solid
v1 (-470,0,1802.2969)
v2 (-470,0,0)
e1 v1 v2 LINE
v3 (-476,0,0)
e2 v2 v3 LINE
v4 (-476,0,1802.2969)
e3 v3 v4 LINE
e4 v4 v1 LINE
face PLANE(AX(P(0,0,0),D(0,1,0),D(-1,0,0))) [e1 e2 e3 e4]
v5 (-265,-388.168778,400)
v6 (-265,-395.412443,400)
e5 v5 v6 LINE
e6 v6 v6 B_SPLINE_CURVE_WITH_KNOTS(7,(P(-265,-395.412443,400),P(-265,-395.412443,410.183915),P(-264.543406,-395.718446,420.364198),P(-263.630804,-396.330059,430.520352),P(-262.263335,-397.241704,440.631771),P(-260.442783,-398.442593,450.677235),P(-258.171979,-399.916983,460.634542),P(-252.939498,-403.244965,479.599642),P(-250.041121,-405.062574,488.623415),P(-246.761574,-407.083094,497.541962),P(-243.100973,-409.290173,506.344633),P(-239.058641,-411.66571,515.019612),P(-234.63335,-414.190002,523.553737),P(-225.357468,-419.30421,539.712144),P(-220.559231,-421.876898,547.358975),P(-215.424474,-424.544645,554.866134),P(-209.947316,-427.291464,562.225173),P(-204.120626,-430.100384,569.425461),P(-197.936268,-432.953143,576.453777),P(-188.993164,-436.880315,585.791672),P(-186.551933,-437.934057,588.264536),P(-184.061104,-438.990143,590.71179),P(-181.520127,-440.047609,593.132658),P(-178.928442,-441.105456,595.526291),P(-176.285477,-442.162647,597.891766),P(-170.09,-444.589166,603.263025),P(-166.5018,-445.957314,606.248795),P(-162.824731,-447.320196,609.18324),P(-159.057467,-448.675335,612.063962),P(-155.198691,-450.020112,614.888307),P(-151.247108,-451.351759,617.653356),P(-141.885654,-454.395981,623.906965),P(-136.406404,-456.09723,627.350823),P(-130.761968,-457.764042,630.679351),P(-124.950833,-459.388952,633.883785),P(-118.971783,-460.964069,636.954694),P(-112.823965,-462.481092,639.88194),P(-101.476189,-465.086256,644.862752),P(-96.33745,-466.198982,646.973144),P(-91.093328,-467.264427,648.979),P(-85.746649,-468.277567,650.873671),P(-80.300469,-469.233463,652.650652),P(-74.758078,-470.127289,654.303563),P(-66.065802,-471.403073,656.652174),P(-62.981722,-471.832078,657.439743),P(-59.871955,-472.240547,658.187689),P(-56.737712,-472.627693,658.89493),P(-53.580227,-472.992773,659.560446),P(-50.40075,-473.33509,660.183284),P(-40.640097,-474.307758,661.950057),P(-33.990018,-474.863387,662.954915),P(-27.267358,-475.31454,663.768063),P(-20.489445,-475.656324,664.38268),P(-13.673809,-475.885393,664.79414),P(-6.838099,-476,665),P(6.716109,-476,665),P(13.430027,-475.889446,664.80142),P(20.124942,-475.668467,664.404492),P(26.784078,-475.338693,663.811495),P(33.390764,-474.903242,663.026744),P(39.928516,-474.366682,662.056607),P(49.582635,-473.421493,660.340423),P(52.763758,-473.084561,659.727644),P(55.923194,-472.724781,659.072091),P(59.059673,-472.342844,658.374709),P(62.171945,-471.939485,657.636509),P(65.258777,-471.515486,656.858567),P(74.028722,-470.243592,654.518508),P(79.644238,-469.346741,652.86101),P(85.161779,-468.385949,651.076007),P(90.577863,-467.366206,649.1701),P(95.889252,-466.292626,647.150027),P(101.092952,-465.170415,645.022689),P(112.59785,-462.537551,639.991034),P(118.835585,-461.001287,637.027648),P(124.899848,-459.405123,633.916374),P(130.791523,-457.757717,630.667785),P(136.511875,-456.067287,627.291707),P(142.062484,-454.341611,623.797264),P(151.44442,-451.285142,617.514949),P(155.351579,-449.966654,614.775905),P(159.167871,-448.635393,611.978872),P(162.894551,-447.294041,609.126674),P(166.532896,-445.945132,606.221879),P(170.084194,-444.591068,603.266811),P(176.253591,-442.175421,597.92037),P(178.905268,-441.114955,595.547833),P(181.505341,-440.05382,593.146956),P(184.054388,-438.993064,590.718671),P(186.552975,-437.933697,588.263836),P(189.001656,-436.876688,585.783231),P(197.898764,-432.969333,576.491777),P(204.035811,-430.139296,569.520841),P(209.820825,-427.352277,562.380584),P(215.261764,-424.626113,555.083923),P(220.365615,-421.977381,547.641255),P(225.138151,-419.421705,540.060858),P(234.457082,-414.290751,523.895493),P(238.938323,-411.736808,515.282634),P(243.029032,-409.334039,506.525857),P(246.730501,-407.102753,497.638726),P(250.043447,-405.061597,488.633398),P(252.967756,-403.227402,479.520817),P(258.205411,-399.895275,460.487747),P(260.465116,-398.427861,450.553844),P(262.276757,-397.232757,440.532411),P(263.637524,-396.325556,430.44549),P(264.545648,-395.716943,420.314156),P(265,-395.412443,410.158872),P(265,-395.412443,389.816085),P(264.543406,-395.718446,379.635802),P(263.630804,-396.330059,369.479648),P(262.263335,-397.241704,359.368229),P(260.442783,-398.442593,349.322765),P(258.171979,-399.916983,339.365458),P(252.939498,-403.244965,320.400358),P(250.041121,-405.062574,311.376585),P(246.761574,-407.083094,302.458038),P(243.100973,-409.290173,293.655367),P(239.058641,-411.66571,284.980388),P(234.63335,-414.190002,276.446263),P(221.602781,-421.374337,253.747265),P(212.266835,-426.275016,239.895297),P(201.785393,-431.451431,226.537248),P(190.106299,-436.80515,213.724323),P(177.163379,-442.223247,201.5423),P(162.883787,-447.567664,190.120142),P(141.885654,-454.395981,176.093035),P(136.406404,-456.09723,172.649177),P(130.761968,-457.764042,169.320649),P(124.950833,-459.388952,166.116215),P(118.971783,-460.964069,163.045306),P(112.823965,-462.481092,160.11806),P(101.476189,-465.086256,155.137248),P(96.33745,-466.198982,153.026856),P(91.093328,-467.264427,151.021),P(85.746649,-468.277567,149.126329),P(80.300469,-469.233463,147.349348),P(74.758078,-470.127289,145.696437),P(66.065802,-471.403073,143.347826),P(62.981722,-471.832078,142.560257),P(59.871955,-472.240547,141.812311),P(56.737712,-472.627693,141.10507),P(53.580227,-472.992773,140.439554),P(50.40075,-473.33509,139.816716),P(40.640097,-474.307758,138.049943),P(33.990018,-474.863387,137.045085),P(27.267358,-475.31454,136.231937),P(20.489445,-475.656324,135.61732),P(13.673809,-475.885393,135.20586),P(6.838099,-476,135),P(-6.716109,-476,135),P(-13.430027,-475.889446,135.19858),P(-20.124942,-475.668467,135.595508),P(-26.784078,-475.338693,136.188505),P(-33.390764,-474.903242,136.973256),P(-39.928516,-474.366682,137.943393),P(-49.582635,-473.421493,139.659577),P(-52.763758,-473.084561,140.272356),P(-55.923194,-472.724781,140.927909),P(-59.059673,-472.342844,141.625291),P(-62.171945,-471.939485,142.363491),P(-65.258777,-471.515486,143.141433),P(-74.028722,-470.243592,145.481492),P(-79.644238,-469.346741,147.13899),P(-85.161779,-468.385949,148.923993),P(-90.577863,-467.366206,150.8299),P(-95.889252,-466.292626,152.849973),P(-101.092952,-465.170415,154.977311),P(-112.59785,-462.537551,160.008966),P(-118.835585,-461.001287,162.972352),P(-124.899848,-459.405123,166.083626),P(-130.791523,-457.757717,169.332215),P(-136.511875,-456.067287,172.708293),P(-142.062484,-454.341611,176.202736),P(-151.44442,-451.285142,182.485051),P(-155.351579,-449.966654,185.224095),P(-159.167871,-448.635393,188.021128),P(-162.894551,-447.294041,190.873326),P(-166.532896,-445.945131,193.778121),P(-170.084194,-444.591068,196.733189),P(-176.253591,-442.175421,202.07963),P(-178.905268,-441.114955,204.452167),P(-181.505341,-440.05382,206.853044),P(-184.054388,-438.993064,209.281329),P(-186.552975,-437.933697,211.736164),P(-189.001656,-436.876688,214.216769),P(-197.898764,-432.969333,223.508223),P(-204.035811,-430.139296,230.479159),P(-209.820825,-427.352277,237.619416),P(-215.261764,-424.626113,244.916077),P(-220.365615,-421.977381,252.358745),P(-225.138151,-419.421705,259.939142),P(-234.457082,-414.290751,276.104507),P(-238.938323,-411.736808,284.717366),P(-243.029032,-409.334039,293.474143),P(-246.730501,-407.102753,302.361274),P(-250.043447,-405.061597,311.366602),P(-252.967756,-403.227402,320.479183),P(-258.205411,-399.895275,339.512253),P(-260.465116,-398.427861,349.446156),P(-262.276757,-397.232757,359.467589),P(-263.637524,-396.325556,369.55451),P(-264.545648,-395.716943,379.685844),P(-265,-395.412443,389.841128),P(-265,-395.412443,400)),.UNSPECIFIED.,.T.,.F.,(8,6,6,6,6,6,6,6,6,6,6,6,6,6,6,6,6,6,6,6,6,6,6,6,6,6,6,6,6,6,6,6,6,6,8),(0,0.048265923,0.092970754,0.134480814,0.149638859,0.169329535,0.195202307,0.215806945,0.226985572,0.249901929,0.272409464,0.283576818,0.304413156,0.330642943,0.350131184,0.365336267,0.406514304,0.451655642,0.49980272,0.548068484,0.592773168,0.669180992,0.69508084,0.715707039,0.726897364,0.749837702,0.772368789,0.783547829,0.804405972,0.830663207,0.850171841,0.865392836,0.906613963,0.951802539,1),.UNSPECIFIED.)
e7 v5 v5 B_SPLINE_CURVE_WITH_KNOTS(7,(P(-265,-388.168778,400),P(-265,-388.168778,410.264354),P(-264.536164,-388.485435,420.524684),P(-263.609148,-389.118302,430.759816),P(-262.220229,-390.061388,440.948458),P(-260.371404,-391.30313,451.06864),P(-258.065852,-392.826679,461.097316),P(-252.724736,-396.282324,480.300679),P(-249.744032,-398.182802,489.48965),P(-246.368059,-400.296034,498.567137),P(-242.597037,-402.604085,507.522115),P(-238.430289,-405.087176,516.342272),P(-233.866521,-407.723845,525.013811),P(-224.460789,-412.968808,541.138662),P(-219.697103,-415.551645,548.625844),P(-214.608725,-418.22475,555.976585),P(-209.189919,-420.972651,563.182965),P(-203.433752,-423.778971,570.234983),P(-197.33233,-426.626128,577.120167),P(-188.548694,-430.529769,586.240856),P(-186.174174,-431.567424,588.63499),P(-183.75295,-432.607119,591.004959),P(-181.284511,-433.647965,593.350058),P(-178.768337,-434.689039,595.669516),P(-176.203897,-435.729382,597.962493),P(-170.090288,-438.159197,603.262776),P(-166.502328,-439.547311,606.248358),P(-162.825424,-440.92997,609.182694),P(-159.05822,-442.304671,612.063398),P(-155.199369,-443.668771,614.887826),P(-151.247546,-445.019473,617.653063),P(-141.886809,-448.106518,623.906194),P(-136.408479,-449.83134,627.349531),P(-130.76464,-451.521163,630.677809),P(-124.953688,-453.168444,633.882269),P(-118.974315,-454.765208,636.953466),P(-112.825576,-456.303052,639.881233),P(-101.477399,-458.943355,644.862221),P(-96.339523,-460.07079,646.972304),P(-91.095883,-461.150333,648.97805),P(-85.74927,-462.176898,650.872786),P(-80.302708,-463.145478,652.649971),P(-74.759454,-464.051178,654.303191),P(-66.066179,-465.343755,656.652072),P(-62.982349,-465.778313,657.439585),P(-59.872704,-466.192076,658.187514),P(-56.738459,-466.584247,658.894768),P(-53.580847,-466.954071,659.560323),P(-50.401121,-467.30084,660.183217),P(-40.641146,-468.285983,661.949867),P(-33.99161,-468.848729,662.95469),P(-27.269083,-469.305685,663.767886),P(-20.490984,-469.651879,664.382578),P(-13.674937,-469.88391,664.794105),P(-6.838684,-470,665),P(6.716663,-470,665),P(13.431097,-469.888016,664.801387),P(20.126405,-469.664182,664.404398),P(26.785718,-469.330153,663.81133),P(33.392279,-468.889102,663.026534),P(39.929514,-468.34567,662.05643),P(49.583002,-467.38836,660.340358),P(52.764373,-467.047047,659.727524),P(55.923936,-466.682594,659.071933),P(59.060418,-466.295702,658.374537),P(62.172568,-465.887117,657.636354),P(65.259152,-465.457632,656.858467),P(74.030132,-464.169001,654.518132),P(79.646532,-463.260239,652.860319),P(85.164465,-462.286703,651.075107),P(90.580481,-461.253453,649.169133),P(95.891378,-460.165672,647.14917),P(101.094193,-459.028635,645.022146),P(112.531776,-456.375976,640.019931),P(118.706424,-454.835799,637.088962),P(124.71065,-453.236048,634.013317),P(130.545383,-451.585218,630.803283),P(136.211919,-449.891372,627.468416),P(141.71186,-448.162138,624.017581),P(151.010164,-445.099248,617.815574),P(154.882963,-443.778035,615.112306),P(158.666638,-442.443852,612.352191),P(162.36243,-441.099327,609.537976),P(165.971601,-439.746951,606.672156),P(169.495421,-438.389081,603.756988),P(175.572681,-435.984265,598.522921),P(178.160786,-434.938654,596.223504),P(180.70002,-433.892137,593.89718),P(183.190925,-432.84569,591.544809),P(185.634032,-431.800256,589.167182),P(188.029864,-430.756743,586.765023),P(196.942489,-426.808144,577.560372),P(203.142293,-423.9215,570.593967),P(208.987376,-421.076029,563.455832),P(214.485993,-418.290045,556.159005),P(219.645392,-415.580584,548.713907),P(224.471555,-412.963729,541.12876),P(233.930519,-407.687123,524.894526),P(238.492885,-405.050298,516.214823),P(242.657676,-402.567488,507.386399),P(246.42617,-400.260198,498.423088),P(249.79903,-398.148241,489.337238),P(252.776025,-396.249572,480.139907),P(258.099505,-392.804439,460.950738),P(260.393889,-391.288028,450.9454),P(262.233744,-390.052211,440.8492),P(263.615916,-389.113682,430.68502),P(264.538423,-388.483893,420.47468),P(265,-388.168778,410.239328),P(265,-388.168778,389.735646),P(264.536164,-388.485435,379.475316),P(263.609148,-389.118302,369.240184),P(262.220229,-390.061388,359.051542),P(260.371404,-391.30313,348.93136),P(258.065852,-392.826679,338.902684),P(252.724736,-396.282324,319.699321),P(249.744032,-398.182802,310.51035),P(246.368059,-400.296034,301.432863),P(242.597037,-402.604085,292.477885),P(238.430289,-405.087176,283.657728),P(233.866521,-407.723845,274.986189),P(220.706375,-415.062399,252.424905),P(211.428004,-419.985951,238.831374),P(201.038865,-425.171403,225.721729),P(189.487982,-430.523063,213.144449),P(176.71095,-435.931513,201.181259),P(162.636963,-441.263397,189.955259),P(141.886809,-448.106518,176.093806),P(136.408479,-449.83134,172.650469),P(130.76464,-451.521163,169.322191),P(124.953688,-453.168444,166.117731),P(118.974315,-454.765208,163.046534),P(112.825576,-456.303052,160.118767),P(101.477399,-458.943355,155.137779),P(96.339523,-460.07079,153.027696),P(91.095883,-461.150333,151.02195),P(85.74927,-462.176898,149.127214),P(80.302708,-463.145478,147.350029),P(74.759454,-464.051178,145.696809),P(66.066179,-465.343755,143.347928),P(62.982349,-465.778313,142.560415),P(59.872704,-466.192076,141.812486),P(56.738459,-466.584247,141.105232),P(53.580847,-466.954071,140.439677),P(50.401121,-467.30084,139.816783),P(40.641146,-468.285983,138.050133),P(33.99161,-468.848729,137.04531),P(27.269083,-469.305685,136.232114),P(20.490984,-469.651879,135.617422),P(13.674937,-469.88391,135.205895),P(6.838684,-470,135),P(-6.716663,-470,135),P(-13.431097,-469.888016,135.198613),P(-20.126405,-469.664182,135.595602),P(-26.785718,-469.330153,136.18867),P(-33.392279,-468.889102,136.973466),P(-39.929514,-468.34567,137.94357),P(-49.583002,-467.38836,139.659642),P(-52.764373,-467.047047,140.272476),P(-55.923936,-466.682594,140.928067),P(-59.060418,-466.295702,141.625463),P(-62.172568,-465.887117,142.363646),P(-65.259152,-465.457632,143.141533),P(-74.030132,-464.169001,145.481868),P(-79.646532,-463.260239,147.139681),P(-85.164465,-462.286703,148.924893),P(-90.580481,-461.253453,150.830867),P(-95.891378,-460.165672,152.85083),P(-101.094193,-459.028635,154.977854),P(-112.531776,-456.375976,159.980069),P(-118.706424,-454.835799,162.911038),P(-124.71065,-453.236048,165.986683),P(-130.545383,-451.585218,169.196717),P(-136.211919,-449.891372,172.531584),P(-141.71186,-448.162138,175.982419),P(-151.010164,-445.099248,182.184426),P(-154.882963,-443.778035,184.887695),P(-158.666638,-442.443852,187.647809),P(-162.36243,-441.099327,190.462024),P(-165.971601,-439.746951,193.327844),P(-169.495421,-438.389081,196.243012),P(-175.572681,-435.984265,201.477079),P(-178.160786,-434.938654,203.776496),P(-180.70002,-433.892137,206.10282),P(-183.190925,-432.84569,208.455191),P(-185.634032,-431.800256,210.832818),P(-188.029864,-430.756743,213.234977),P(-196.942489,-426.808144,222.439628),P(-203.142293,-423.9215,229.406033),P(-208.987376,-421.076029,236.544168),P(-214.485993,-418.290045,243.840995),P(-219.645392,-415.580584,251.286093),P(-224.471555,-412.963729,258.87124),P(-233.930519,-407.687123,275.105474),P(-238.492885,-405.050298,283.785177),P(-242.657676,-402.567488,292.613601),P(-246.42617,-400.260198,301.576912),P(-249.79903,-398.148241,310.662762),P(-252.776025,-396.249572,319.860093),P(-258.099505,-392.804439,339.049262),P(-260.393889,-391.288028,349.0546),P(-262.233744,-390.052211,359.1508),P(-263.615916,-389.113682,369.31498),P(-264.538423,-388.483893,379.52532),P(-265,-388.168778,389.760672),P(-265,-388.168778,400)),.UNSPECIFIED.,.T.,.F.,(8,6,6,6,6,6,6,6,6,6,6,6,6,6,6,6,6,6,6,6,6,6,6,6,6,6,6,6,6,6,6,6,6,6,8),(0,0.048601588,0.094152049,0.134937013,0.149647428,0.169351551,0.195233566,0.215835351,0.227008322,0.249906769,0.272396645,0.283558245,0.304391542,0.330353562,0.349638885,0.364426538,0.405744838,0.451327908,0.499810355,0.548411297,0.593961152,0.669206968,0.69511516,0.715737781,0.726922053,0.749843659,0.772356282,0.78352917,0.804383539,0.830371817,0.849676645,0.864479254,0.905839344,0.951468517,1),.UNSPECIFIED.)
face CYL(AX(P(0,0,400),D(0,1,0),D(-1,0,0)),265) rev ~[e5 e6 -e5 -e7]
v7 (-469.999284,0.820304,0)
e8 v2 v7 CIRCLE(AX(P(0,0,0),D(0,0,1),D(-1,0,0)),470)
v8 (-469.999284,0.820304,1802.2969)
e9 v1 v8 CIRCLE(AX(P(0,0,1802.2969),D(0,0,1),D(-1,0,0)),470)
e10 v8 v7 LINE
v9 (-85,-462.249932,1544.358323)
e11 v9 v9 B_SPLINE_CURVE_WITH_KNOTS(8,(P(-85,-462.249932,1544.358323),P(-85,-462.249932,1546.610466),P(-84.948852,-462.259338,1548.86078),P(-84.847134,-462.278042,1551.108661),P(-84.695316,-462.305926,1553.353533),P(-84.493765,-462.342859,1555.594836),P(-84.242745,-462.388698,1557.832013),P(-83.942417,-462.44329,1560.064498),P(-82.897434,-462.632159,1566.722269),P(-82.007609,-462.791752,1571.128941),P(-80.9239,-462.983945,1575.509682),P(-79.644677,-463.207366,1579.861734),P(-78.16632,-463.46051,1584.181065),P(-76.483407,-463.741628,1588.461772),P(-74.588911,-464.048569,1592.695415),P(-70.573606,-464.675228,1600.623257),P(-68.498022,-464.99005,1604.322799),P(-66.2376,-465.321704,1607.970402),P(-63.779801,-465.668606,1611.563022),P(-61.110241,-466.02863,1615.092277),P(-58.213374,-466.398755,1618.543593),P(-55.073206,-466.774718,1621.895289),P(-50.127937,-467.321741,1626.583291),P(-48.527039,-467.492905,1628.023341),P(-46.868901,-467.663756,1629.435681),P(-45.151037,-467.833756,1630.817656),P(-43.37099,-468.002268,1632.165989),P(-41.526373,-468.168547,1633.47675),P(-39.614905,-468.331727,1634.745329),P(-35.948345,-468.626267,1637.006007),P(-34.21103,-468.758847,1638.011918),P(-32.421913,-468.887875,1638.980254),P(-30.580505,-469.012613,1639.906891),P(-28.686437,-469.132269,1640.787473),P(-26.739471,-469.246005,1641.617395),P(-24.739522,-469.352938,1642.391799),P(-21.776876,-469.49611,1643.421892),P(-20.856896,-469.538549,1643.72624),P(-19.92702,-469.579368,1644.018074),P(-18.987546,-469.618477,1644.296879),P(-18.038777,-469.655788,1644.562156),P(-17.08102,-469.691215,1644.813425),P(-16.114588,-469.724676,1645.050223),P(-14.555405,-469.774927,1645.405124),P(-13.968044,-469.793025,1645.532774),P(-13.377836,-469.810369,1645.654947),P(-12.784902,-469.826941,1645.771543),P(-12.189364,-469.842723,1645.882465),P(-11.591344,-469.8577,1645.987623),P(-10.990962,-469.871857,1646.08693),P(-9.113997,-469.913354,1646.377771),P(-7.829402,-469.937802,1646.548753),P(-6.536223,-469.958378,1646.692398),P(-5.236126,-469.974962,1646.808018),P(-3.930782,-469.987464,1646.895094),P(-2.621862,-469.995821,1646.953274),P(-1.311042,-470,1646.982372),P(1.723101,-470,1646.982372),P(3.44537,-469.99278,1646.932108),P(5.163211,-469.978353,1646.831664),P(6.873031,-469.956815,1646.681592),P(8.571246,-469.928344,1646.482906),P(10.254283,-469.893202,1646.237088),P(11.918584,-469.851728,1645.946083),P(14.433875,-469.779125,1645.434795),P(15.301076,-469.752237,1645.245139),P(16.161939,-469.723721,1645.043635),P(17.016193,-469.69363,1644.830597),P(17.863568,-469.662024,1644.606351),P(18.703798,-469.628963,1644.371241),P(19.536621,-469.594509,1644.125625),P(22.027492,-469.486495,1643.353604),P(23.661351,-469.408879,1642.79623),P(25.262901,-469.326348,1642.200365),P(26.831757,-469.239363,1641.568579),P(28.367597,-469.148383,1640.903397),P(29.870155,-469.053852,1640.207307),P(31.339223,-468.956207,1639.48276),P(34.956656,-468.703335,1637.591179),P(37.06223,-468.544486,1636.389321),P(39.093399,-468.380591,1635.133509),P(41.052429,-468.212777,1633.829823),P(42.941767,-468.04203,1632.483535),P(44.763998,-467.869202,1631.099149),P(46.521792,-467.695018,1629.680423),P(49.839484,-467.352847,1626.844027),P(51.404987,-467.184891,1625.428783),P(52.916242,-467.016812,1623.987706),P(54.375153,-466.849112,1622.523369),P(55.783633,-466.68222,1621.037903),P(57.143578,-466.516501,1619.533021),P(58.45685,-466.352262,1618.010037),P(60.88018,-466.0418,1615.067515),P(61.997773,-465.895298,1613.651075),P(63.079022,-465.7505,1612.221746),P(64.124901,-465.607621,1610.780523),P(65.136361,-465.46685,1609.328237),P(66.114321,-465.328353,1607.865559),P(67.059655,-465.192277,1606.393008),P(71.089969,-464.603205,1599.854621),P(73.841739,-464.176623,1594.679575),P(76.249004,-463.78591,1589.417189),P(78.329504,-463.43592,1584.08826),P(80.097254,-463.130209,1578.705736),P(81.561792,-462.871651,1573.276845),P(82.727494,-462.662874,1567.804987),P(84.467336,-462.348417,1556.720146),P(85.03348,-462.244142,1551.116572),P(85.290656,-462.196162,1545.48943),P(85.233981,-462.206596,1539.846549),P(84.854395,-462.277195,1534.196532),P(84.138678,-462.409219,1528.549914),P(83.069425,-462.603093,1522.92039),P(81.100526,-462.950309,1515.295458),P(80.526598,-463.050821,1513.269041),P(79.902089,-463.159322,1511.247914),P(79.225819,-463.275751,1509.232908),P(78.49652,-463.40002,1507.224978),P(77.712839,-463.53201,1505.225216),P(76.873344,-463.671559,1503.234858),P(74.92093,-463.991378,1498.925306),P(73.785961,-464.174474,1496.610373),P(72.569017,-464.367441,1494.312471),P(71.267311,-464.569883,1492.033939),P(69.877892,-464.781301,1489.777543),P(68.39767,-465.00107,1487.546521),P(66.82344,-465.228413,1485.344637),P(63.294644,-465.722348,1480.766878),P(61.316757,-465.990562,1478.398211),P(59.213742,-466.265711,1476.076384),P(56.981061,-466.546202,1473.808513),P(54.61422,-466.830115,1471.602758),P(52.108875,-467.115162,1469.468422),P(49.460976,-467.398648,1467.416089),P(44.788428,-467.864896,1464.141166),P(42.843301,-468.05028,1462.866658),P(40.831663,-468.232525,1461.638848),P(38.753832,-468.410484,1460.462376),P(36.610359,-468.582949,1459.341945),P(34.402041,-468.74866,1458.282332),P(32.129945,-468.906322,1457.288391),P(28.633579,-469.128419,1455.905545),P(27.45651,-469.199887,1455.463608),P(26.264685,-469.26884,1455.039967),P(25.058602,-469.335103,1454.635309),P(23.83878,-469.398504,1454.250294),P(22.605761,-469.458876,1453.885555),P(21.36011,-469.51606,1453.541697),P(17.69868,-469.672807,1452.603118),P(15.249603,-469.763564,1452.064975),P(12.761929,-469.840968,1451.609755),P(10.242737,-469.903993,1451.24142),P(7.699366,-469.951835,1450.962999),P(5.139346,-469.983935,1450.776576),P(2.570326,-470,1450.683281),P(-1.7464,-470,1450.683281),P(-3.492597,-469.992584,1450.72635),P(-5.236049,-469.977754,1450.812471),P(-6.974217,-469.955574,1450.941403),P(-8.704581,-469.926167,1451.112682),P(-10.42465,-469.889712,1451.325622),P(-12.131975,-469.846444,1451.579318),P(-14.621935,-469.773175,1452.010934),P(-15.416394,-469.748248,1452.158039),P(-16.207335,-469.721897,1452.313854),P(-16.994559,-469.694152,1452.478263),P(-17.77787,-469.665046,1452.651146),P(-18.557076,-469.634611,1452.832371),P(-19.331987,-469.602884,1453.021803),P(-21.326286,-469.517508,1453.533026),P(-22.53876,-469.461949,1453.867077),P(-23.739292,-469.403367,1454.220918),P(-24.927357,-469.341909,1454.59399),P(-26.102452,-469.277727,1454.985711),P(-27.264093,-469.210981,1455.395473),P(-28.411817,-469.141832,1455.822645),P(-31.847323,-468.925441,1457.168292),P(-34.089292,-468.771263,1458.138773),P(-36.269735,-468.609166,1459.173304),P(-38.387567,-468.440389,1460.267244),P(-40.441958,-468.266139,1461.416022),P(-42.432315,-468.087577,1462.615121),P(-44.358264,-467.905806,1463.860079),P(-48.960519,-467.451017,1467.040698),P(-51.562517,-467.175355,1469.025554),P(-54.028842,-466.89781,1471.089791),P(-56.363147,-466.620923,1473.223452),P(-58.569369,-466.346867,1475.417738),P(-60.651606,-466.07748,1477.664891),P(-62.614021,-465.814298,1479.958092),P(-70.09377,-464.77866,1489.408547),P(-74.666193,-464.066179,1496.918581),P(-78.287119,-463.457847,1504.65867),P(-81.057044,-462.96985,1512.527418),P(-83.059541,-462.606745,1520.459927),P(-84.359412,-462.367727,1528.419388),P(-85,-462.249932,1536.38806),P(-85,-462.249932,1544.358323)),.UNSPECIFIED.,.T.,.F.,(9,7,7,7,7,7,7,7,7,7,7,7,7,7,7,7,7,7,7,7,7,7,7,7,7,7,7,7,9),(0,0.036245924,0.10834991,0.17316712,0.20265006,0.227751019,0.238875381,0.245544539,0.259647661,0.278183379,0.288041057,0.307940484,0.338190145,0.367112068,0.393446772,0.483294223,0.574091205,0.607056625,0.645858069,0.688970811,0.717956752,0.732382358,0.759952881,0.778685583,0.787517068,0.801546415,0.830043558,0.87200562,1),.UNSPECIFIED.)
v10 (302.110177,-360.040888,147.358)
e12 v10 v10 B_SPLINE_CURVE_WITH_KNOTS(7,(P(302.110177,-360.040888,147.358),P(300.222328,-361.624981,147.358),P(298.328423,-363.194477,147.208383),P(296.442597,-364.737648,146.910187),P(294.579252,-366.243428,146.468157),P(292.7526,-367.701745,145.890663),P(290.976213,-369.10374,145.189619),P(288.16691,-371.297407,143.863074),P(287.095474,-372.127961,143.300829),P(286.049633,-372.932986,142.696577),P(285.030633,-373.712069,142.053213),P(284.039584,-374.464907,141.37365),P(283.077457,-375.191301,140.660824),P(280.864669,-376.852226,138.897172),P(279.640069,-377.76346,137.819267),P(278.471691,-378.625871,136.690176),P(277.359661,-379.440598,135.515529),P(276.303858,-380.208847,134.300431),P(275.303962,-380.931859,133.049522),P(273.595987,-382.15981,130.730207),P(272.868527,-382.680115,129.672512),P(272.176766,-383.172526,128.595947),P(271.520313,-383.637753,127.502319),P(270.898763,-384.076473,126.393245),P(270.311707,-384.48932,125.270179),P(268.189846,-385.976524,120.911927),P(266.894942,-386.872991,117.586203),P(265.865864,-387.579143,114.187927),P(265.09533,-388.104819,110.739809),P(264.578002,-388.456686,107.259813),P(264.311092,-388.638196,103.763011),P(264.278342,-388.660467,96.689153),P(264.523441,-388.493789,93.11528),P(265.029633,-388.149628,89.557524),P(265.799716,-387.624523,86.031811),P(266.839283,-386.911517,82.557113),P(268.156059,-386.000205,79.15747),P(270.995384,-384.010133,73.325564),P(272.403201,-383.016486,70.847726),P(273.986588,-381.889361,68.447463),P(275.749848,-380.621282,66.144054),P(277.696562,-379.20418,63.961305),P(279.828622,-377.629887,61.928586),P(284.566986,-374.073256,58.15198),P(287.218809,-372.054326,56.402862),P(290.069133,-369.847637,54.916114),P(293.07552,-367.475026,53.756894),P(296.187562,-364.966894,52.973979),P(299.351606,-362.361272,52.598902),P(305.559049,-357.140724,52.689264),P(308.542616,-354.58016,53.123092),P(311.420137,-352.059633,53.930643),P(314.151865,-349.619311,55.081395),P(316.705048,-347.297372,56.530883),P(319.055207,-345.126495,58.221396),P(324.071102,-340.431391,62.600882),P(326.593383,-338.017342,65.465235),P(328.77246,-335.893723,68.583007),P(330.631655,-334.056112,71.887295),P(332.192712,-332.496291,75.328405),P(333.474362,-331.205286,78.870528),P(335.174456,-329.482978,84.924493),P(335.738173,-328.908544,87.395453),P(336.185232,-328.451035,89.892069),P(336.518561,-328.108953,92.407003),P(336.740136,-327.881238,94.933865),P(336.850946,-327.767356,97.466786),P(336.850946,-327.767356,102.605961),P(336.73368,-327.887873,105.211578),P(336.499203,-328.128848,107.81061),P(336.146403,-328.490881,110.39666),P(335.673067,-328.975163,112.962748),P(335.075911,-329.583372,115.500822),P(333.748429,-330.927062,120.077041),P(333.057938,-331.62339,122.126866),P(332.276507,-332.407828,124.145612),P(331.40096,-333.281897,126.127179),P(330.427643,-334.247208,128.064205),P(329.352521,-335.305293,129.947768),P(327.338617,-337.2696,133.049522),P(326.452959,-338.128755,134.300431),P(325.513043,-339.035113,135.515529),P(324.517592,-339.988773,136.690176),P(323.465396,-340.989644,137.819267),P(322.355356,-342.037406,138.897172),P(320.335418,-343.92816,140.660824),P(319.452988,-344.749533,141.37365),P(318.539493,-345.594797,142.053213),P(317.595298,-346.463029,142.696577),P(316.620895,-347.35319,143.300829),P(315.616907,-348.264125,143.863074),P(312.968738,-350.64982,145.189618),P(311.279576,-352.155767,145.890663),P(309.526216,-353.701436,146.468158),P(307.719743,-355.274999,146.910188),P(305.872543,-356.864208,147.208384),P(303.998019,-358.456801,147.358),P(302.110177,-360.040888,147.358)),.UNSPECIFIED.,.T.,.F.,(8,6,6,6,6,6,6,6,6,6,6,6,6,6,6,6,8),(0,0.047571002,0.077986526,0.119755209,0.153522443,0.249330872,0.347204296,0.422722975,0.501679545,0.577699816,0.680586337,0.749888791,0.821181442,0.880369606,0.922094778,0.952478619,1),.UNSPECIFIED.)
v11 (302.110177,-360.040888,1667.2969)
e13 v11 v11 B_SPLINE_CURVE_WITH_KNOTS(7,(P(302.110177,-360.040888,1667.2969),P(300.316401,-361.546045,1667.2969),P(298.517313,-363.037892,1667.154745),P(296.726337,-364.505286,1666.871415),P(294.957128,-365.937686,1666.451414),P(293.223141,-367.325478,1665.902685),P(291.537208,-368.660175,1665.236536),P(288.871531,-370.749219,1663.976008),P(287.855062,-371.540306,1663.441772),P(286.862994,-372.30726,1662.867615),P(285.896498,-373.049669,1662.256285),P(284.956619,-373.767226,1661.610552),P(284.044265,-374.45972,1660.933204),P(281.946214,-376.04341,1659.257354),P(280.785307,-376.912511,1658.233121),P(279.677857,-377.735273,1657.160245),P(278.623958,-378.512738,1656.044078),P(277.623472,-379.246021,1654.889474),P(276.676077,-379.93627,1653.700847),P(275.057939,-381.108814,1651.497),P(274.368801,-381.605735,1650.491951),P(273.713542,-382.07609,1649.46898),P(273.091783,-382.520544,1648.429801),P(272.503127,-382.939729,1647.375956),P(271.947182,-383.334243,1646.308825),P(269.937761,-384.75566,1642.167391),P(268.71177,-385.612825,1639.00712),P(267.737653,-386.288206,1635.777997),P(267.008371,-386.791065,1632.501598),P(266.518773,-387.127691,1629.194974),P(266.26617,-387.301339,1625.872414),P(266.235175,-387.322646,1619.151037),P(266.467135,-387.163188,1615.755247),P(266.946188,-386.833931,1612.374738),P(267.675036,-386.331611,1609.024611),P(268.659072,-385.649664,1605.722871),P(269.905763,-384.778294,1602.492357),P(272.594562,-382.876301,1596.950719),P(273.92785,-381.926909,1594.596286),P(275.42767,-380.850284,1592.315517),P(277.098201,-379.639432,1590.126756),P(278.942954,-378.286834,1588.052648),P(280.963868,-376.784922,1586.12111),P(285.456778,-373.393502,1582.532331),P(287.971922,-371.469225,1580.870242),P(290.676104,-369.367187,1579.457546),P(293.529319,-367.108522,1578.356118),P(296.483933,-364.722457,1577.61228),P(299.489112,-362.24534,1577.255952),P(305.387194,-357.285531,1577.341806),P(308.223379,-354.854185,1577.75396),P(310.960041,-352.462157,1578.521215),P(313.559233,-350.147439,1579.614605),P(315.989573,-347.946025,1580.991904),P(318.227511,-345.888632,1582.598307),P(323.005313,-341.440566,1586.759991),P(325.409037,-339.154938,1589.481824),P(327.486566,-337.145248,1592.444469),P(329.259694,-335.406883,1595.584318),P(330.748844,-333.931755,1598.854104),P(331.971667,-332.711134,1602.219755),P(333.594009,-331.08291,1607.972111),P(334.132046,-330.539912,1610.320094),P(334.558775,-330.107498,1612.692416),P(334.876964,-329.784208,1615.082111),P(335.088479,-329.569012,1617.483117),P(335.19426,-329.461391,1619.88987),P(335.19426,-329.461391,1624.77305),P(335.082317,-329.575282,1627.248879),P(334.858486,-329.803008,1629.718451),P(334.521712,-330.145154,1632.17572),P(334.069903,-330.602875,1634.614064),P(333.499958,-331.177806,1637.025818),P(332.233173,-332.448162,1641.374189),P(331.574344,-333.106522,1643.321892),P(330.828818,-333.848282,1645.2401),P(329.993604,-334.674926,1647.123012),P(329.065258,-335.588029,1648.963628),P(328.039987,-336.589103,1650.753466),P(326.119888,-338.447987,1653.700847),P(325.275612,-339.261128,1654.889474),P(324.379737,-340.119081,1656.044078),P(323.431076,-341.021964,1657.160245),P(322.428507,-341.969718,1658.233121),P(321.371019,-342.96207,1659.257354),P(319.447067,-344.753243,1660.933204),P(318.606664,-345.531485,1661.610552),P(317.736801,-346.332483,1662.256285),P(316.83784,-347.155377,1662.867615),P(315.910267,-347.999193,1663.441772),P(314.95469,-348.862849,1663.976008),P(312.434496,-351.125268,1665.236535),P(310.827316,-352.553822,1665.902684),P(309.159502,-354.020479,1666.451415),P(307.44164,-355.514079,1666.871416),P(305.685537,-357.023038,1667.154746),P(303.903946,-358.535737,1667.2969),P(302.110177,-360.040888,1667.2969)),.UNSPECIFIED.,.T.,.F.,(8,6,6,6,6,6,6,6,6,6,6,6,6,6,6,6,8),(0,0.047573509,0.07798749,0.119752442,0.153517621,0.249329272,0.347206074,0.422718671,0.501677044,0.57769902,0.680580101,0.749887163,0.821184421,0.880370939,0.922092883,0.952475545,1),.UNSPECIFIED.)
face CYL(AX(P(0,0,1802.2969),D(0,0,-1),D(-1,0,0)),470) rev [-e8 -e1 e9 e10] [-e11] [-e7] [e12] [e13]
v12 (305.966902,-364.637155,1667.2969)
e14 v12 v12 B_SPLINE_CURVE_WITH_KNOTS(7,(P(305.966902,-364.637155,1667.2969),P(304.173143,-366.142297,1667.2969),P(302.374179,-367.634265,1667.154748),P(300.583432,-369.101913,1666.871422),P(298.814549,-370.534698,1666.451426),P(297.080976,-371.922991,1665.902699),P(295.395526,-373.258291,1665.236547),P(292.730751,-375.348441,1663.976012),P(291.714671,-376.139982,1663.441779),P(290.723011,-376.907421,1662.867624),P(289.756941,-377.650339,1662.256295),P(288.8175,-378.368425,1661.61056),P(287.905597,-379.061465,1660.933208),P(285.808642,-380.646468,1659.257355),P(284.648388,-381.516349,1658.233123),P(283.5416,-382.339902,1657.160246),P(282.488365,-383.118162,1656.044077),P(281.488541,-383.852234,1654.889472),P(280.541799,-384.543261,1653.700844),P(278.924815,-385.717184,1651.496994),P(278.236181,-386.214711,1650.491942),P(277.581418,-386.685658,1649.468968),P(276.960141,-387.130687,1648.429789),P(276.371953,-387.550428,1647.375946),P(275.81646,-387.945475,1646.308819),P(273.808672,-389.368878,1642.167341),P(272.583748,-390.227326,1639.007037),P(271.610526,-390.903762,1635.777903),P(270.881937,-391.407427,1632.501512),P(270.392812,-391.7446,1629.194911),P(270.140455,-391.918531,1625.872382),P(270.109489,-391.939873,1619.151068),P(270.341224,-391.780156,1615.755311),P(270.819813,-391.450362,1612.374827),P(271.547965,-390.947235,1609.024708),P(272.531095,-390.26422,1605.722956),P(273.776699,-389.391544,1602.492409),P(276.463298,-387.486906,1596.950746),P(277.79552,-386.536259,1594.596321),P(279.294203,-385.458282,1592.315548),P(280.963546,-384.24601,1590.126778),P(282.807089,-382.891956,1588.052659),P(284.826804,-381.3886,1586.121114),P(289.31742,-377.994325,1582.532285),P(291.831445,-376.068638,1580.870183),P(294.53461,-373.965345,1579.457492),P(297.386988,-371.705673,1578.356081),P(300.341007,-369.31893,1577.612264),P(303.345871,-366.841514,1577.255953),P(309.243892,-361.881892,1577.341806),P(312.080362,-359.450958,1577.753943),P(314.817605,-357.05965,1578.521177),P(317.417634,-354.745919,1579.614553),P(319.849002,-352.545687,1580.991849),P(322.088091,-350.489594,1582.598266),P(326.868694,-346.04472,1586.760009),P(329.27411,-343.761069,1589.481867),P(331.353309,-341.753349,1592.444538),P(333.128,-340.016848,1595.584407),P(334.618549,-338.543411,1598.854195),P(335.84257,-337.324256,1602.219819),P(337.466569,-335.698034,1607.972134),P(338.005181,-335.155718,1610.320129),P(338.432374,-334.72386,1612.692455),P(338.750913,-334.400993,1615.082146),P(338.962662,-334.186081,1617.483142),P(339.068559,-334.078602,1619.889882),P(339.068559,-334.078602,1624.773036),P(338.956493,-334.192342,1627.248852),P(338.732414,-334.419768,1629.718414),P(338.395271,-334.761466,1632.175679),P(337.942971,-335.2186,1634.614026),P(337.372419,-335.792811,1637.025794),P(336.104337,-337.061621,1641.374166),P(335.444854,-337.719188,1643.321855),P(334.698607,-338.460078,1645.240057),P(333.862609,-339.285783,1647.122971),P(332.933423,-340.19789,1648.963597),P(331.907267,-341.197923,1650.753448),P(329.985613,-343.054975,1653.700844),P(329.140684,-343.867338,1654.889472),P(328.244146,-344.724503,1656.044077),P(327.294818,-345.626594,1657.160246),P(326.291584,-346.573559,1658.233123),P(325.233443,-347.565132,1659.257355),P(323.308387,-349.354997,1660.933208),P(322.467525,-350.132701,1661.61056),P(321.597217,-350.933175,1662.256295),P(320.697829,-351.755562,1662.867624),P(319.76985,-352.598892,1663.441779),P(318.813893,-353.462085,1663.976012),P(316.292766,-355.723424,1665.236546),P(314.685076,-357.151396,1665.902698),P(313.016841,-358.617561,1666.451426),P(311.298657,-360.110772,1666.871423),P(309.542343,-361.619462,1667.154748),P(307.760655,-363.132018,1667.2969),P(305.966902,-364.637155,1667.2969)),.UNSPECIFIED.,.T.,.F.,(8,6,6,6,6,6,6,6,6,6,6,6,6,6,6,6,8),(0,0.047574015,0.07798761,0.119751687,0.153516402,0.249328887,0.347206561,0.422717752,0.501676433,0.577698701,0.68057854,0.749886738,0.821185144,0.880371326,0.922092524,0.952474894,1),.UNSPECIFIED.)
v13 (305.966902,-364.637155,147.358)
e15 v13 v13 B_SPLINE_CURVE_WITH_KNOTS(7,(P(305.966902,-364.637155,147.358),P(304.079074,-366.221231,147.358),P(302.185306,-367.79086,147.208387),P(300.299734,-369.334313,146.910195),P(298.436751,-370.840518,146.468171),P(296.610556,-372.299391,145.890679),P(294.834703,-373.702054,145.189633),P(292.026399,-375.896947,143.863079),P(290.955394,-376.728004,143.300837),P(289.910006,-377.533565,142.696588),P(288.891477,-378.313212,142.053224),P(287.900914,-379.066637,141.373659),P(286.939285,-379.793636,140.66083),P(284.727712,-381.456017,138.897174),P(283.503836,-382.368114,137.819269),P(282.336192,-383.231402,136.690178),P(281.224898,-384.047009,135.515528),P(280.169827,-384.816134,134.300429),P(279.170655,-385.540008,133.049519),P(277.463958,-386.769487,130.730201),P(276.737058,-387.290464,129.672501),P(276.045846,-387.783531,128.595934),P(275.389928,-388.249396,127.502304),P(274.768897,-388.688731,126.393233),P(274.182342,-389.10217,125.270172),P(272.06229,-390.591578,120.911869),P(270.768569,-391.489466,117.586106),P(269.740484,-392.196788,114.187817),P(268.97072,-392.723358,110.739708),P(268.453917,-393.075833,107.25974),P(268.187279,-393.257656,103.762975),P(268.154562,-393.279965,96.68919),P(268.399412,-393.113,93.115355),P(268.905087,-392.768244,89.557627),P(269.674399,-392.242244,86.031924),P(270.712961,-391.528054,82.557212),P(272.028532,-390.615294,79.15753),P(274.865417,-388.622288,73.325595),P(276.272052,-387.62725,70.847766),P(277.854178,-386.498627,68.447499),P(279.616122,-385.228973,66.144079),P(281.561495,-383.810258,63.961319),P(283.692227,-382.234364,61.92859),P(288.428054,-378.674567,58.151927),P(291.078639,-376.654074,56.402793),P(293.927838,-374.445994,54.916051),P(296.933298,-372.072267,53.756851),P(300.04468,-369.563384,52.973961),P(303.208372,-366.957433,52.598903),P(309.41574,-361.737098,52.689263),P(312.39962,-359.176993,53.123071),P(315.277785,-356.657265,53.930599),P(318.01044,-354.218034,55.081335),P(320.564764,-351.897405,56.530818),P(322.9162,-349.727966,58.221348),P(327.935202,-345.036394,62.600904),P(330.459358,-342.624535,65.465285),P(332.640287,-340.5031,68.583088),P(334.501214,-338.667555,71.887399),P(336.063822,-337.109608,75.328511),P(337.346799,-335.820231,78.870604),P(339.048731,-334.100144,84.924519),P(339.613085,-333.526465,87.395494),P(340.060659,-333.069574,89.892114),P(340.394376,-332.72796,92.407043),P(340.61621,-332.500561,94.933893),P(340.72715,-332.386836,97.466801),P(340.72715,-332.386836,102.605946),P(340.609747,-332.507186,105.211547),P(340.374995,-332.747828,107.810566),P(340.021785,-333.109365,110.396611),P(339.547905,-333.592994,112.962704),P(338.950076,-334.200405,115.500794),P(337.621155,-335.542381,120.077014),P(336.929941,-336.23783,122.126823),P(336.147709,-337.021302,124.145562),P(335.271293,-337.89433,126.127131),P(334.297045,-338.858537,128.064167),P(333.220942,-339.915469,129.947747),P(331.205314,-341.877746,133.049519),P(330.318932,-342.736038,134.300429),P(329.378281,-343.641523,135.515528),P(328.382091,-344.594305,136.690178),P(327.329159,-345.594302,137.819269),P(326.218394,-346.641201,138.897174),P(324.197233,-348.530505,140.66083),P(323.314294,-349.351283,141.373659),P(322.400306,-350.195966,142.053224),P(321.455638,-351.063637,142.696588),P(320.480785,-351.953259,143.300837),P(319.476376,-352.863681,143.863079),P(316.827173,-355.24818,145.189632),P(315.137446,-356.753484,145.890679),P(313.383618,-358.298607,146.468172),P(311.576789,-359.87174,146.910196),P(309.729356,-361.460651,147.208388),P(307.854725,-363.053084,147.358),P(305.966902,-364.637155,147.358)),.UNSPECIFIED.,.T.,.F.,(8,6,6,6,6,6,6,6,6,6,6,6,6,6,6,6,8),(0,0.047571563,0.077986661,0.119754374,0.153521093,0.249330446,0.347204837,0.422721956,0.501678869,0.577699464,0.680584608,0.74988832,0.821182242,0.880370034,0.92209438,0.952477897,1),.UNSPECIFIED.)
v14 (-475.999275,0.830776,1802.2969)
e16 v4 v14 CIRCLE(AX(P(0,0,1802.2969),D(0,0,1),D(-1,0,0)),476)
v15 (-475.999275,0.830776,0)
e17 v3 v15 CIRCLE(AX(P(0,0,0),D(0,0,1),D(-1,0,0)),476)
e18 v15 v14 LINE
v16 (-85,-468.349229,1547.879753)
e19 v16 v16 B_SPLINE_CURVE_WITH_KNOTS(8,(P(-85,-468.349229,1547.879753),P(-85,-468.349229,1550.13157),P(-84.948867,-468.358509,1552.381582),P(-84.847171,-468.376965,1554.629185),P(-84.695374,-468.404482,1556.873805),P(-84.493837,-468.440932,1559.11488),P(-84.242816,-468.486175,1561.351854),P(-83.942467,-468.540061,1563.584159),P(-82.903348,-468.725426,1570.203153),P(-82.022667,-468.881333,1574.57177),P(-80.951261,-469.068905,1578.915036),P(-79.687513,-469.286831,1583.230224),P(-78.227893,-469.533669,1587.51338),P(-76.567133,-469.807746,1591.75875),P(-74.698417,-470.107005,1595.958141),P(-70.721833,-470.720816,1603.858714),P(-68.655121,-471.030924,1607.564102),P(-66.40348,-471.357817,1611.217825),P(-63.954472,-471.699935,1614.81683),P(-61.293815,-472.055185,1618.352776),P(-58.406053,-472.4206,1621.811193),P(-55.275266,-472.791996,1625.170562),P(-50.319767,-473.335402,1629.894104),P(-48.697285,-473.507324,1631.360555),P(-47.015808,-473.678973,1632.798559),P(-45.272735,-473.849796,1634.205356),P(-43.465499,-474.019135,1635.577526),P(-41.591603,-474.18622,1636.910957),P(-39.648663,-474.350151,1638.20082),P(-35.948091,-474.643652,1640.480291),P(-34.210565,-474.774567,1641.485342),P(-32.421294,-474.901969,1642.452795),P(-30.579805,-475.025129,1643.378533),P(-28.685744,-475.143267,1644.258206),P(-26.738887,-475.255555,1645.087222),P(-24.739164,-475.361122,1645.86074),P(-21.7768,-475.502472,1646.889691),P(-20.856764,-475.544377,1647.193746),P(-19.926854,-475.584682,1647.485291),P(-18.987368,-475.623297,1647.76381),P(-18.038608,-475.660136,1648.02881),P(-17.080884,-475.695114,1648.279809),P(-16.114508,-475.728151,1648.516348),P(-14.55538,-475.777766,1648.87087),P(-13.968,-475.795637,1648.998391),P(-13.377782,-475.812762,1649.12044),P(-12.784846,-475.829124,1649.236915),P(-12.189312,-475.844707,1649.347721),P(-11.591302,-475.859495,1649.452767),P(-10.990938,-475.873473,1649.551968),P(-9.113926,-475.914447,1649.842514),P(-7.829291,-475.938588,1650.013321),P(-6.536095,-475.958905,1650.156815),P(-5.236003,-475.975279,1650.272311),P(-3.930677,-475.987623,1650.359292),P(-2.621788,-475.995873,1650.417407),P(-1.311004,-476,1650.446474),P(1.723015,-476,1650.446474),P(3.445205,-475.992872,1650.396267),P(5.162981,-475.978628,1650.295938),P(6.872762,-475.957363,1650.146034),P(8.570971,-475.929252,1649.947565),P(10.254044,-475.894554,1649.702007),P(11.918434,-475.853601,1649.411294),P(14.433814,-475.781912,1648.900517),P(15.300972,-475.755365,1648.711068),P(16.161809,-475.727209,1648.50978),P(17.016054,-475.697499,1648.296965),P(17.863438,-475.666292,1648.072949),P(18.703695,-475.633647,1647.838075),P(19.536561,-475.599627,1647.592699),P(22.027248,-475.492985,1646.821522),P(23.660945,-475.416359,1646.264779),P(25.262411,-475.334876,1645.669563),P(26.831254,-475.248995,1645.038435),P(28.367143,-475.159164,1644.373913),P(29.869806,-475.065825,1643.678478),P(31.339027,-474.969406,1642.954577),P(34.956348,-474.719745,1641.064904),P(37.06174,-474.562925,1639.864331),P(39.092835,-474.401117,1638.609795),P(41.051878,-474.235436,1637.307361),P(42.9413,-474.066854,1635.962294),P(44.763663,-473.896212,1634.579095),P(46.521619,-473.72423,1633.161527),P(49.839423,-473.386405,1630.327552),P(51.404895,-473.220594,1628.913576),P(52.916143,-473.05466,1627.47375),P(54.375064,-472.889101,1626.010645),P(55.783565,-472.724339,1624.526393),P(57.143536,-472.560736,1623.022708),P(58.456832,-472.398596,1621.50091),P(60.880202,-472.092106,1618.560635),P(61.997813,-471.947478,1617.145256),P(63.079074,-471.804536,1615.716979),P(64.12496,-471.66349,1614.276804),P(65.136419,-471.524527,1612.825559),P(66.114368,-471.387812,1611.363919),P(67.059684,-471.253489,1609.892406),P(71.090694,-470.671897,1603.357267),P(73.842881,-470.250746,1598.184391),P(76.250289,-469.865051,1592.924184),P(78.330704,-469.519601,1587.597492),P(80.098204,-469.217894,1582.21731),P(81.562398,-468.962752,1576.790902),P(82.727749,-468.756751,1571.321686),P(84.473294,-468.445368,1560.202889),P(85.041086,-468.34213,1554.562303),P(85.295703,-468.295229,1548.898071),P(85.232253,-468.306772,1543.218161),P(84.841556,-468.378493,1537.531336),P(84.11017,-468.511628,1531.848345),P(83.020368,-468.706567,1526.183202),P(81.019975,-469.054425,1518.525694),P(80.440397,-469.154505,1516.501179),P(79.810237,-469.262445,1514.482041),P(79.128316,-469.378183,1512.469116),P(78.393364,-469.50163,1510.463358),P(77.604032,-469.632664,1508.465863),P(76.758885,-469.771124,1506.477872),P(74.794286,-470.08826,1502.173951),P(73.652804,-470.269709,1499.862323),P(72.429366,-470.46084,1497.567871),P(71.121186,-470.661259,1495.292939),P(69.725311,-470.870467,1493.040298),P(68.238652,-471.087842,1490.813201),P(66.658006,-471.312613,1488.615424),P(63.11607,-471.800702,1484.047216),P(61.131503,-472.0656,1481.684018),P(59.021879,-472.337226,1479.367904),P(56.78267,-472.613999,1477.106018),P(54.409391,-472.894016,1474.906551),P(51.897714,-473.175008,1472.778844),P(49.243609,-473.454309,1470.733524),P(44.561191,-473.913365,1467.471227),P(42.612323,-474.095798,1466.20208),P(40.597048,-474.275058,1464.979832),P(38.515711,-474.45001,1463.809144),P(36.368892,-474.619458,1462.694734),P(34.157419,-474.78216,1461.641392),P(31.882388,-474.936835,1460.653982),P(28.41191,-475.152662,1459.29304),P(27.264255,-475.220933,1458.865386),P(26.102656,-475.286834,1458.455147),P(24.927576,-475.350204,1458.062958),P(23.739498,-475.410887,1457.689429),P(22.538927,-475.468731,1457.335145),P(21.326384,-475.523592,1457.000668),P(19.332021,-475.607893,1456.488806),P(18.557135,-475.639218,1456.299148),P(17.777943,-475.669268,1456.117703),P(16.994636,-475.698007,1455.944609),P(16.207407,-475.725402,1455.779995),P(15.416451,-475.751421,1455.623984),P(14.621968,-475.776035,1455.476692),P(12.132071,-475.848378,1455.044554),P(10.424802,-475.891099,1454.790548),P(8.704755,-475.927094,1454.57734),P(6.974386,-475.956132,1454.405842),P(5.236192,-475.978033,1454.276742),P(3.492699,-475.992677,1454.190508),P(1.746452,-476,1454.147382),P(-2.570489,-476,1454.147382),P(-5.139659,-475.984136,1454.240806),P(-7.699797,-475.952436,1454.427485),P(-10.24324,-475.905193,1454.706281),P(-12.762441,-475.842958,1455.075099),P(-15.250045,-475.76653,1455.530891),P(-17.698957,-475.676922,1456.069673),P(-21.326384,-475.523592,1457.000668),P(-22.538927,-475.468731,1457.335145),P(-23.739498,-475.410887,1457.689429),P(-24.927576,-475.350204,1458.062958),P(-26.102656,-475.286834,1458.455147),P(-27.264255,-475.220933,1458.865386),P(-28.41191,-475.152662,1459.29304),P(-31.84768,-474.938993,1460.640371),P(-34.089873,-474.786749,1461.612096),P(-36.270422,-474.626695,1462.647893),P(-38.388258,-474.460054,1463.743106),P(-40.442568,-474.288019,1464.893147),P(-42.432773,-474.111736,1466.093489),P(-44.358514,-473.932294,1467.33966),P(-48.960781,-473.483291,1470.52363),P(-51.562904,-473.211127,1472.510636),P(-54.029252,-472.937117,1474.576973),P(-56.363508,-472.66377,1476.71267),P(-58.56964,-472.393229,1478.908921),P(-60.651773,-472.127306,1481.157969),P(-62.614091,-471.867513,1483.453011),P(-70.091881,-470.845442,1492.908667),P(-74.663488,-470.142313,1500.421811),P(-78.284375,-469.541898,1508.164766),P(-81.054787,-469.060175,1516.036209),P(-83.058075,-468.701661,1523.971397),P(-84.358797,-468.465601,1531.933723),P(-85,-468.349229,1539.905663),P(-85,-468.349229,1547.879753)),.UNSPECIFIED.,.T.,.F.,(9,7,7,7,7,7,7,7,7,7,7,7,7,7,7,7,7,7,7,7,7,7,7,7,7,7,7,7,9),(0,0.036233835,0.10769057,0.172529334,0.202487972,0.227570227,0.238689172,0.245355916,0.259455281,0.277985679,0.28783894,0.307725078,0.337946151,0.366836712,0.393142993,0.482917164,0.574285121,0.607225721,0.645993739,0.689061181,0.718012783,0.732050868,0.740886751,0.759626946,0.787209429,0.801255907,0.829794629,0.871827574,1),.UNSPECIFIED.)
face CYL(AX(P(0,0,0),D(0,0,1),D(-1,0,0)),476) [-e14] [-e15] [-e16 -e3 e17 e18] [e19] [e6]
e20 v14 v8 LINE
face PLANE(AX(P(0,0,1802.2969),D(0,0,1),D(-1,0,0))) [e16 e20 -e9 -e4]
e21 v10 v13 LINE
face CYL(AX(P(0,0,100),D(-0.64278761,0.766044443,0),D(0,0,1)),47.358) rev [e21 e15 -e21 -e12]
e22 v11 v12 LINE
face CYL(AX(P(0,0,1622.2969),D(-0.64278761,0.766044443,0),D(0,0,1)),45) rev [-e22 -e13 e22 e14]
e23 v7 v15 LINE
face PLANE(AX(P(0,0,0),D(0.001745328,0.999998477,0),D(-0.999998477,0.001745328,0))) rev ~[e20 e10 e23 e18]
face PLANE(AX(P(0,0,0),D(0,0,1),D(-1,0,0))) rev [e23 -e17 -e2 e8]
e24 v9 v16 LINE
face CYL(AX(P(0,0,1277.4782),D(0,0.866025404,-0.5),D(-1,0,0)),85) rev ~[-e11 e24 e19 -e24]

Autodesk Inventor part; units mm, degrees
sketch "Sketch1" plane through (0, 0, 0) normal (0, 1, 0) x (-1, 0, 0)
  line L0 (476, 1802.2969) -> (470, 1802.2969)
  line L1 (470, 1802.2969) -> (470, 0)
  line L2 (470, 0) -> (476, 0)
  line L3 (476, 0) -> (476, 1802.2969)
  line L4 (0, 0) -> (0, 1673.0415)
  point P0 (473, 0)
  dimension "d0" = 6
  dimension "d1" = 1802.2969
  dimension "d2" = 940
revolve "Revolution1" add sketch "Sketch1" angle 359.9 about axis through (0, 0, 0) along (0, 0, 1)
sketch "Sketch2" plane through (0, 0, 0) normal (0, 1, 0) x (-1, 0, 0)
  circle A0 centre (0, 400) radius 265
  line L0 (470, 1802.2969) -> (-470, 1802.2969) projected
  line L1 (110, 1602.2969) -> (-110, 1602.2969) construction
  line L2 (110, 1692.2969) -> (-110, 1692.2969)
  line L3 (-110, 1512.2969) -> (110, 1512.2969)
  arc A1 (110, 1512.2969) -> (110, 1692.2969) centre (110, 1602.2969) ccw
  arc A2 (-110, 1692.2969) -> (-110, 1512.2969) centre (-110, 1602.2969) ccw
  line L4 (200, 1602.2969) -> (-200, 1602.2969) construction
  point P0 (0, 0)
  point P1 (469.9993, 1802.2969)
  point P2 (0, 1602.2969)
  dimension "d4" = 530
  dimension "d12" = 400
  dimension "d15" = 200
  dimension "d16" = 400
  dimension "d17" = 180
extrude "Extrusion1" cut sketch "Sketch2" against normal through all contours A0
sketch "Sketch3" plane through (0, 0, 0) normal (0, 0, 1) x (1, 0, 0)
  line L0 (0, 0) -> (0, -267.717)
  line L1 (0, -267.717) -> (0, 0)
  line L2 (0, 0) -> (-206.5042, -173.2776)
  line L3 (0, 0) -> (0, -252.2081)
  dimension "d18" = 50
  dimension "d26" = 0
ref_plane "Work Plane2" through (0, 0, -10) normal (0.6428, -0.766, 0) x (0, 0, 1)
sketch "Sketch4" plane through (0, 0, -10) normal (0.6428, -0.766, 0) x (0, 0, 1)
  circle A0 centre (1632.2969, 0) radius 45
  circle A1 centre (110, 0) radius 47.358
  line L0 (1812.2969, -476) -> (1812.2969, 476) projected
  point P0 (10, 0)
  point P1 (1812.2969, 364.6372)
  point P2 (1812.2969, 364.1026)
  dimension "d19" = 90
  dimension "d20" = 100
  dimension "d21" = 1622.2969
  dimension "d24" = 180
extrude "Extrusion2" cut sketch "Sketch4" along normal through all
ref_plane "Work Plane3" through (0, 0, 0) normal (-1, 0, 0) x (0, -1, 0)
sketch "Sketch5" plane through (0, 0, 0) normal (-1, 0, 0) x (0, -1, 0)
  line L0 (476, 1802.2969) -> (-476, 1802.2969) projected
  line L1 (476, 1552.2969) -> (0, 1277.4782)
  point P0 (0, 0)
  point P1 (0, 1802.2969)
  point P2 (-0.8308, 1802.2969)
  point P3 (0, 1802.2969)
  dimension "d27" = 30
  dimension "d28" = 250
ref_plane "Work Plane4" through (0, 0, 1277.4782) normal (0, 0.866, -0.5) x (-1, 0, 0)
sketch "Sketch6" plane through (0, 0, 1277.4782) normal (0, 0.866, -0.5) x (-1, 0, 0)
  circle A0 centre (0, 0) radius 85
  point P0 (0, -1106.3286)
  point P1 (0, 0)
  point P2 (0, 0)
  point P3 (0, 0)
  dimension "d29" = 170
extrude "Extrusion3" cut sketch "Sketch6" against normal through all
equation "\"d1\" = MAIN_hight - 2 * Disherd_head_hight"
equation "\"d2\" = MAIN_filter_diam"
equation "\"d4\" = Accsess_hatch_diameter"
equation "\"d16\" = Charging_hatch_width"
equation "\"d17\" = Charging_hatch_hight"
equation "\"BendRadius\" = Thickness"
equation "\"BendReliefWidth\" = Thickness"
equation "\"BendReliefDepth\" = 0.5 * Thickness"
equation "\"CornerReliefSize\" = 4 * Thickness"
equation "\"MinimumRemnant\" = 2 * Thickness"
equation "\"TransitionRadius\" = BendRadius"
equation "\"JacobiRadiusSize\" = BendRadius"
equation "\"GapSize\" = Thickness"
equation "\"MAIN_hight\" = 2240"
equation "\"Disherd_head_hight\" = 218.851546"
equation "\"MAIN_filter_diam\" = 940"
equation "\"Accsess_hatch_diameter\" = 530"
equation "\"Charging_hatch_width\" = 400"
equation "\"Charging_hatch_hight\" = 180"
equation "\"Thickness\" = 6"
properties part number "PNS-601 main tube D1000"
